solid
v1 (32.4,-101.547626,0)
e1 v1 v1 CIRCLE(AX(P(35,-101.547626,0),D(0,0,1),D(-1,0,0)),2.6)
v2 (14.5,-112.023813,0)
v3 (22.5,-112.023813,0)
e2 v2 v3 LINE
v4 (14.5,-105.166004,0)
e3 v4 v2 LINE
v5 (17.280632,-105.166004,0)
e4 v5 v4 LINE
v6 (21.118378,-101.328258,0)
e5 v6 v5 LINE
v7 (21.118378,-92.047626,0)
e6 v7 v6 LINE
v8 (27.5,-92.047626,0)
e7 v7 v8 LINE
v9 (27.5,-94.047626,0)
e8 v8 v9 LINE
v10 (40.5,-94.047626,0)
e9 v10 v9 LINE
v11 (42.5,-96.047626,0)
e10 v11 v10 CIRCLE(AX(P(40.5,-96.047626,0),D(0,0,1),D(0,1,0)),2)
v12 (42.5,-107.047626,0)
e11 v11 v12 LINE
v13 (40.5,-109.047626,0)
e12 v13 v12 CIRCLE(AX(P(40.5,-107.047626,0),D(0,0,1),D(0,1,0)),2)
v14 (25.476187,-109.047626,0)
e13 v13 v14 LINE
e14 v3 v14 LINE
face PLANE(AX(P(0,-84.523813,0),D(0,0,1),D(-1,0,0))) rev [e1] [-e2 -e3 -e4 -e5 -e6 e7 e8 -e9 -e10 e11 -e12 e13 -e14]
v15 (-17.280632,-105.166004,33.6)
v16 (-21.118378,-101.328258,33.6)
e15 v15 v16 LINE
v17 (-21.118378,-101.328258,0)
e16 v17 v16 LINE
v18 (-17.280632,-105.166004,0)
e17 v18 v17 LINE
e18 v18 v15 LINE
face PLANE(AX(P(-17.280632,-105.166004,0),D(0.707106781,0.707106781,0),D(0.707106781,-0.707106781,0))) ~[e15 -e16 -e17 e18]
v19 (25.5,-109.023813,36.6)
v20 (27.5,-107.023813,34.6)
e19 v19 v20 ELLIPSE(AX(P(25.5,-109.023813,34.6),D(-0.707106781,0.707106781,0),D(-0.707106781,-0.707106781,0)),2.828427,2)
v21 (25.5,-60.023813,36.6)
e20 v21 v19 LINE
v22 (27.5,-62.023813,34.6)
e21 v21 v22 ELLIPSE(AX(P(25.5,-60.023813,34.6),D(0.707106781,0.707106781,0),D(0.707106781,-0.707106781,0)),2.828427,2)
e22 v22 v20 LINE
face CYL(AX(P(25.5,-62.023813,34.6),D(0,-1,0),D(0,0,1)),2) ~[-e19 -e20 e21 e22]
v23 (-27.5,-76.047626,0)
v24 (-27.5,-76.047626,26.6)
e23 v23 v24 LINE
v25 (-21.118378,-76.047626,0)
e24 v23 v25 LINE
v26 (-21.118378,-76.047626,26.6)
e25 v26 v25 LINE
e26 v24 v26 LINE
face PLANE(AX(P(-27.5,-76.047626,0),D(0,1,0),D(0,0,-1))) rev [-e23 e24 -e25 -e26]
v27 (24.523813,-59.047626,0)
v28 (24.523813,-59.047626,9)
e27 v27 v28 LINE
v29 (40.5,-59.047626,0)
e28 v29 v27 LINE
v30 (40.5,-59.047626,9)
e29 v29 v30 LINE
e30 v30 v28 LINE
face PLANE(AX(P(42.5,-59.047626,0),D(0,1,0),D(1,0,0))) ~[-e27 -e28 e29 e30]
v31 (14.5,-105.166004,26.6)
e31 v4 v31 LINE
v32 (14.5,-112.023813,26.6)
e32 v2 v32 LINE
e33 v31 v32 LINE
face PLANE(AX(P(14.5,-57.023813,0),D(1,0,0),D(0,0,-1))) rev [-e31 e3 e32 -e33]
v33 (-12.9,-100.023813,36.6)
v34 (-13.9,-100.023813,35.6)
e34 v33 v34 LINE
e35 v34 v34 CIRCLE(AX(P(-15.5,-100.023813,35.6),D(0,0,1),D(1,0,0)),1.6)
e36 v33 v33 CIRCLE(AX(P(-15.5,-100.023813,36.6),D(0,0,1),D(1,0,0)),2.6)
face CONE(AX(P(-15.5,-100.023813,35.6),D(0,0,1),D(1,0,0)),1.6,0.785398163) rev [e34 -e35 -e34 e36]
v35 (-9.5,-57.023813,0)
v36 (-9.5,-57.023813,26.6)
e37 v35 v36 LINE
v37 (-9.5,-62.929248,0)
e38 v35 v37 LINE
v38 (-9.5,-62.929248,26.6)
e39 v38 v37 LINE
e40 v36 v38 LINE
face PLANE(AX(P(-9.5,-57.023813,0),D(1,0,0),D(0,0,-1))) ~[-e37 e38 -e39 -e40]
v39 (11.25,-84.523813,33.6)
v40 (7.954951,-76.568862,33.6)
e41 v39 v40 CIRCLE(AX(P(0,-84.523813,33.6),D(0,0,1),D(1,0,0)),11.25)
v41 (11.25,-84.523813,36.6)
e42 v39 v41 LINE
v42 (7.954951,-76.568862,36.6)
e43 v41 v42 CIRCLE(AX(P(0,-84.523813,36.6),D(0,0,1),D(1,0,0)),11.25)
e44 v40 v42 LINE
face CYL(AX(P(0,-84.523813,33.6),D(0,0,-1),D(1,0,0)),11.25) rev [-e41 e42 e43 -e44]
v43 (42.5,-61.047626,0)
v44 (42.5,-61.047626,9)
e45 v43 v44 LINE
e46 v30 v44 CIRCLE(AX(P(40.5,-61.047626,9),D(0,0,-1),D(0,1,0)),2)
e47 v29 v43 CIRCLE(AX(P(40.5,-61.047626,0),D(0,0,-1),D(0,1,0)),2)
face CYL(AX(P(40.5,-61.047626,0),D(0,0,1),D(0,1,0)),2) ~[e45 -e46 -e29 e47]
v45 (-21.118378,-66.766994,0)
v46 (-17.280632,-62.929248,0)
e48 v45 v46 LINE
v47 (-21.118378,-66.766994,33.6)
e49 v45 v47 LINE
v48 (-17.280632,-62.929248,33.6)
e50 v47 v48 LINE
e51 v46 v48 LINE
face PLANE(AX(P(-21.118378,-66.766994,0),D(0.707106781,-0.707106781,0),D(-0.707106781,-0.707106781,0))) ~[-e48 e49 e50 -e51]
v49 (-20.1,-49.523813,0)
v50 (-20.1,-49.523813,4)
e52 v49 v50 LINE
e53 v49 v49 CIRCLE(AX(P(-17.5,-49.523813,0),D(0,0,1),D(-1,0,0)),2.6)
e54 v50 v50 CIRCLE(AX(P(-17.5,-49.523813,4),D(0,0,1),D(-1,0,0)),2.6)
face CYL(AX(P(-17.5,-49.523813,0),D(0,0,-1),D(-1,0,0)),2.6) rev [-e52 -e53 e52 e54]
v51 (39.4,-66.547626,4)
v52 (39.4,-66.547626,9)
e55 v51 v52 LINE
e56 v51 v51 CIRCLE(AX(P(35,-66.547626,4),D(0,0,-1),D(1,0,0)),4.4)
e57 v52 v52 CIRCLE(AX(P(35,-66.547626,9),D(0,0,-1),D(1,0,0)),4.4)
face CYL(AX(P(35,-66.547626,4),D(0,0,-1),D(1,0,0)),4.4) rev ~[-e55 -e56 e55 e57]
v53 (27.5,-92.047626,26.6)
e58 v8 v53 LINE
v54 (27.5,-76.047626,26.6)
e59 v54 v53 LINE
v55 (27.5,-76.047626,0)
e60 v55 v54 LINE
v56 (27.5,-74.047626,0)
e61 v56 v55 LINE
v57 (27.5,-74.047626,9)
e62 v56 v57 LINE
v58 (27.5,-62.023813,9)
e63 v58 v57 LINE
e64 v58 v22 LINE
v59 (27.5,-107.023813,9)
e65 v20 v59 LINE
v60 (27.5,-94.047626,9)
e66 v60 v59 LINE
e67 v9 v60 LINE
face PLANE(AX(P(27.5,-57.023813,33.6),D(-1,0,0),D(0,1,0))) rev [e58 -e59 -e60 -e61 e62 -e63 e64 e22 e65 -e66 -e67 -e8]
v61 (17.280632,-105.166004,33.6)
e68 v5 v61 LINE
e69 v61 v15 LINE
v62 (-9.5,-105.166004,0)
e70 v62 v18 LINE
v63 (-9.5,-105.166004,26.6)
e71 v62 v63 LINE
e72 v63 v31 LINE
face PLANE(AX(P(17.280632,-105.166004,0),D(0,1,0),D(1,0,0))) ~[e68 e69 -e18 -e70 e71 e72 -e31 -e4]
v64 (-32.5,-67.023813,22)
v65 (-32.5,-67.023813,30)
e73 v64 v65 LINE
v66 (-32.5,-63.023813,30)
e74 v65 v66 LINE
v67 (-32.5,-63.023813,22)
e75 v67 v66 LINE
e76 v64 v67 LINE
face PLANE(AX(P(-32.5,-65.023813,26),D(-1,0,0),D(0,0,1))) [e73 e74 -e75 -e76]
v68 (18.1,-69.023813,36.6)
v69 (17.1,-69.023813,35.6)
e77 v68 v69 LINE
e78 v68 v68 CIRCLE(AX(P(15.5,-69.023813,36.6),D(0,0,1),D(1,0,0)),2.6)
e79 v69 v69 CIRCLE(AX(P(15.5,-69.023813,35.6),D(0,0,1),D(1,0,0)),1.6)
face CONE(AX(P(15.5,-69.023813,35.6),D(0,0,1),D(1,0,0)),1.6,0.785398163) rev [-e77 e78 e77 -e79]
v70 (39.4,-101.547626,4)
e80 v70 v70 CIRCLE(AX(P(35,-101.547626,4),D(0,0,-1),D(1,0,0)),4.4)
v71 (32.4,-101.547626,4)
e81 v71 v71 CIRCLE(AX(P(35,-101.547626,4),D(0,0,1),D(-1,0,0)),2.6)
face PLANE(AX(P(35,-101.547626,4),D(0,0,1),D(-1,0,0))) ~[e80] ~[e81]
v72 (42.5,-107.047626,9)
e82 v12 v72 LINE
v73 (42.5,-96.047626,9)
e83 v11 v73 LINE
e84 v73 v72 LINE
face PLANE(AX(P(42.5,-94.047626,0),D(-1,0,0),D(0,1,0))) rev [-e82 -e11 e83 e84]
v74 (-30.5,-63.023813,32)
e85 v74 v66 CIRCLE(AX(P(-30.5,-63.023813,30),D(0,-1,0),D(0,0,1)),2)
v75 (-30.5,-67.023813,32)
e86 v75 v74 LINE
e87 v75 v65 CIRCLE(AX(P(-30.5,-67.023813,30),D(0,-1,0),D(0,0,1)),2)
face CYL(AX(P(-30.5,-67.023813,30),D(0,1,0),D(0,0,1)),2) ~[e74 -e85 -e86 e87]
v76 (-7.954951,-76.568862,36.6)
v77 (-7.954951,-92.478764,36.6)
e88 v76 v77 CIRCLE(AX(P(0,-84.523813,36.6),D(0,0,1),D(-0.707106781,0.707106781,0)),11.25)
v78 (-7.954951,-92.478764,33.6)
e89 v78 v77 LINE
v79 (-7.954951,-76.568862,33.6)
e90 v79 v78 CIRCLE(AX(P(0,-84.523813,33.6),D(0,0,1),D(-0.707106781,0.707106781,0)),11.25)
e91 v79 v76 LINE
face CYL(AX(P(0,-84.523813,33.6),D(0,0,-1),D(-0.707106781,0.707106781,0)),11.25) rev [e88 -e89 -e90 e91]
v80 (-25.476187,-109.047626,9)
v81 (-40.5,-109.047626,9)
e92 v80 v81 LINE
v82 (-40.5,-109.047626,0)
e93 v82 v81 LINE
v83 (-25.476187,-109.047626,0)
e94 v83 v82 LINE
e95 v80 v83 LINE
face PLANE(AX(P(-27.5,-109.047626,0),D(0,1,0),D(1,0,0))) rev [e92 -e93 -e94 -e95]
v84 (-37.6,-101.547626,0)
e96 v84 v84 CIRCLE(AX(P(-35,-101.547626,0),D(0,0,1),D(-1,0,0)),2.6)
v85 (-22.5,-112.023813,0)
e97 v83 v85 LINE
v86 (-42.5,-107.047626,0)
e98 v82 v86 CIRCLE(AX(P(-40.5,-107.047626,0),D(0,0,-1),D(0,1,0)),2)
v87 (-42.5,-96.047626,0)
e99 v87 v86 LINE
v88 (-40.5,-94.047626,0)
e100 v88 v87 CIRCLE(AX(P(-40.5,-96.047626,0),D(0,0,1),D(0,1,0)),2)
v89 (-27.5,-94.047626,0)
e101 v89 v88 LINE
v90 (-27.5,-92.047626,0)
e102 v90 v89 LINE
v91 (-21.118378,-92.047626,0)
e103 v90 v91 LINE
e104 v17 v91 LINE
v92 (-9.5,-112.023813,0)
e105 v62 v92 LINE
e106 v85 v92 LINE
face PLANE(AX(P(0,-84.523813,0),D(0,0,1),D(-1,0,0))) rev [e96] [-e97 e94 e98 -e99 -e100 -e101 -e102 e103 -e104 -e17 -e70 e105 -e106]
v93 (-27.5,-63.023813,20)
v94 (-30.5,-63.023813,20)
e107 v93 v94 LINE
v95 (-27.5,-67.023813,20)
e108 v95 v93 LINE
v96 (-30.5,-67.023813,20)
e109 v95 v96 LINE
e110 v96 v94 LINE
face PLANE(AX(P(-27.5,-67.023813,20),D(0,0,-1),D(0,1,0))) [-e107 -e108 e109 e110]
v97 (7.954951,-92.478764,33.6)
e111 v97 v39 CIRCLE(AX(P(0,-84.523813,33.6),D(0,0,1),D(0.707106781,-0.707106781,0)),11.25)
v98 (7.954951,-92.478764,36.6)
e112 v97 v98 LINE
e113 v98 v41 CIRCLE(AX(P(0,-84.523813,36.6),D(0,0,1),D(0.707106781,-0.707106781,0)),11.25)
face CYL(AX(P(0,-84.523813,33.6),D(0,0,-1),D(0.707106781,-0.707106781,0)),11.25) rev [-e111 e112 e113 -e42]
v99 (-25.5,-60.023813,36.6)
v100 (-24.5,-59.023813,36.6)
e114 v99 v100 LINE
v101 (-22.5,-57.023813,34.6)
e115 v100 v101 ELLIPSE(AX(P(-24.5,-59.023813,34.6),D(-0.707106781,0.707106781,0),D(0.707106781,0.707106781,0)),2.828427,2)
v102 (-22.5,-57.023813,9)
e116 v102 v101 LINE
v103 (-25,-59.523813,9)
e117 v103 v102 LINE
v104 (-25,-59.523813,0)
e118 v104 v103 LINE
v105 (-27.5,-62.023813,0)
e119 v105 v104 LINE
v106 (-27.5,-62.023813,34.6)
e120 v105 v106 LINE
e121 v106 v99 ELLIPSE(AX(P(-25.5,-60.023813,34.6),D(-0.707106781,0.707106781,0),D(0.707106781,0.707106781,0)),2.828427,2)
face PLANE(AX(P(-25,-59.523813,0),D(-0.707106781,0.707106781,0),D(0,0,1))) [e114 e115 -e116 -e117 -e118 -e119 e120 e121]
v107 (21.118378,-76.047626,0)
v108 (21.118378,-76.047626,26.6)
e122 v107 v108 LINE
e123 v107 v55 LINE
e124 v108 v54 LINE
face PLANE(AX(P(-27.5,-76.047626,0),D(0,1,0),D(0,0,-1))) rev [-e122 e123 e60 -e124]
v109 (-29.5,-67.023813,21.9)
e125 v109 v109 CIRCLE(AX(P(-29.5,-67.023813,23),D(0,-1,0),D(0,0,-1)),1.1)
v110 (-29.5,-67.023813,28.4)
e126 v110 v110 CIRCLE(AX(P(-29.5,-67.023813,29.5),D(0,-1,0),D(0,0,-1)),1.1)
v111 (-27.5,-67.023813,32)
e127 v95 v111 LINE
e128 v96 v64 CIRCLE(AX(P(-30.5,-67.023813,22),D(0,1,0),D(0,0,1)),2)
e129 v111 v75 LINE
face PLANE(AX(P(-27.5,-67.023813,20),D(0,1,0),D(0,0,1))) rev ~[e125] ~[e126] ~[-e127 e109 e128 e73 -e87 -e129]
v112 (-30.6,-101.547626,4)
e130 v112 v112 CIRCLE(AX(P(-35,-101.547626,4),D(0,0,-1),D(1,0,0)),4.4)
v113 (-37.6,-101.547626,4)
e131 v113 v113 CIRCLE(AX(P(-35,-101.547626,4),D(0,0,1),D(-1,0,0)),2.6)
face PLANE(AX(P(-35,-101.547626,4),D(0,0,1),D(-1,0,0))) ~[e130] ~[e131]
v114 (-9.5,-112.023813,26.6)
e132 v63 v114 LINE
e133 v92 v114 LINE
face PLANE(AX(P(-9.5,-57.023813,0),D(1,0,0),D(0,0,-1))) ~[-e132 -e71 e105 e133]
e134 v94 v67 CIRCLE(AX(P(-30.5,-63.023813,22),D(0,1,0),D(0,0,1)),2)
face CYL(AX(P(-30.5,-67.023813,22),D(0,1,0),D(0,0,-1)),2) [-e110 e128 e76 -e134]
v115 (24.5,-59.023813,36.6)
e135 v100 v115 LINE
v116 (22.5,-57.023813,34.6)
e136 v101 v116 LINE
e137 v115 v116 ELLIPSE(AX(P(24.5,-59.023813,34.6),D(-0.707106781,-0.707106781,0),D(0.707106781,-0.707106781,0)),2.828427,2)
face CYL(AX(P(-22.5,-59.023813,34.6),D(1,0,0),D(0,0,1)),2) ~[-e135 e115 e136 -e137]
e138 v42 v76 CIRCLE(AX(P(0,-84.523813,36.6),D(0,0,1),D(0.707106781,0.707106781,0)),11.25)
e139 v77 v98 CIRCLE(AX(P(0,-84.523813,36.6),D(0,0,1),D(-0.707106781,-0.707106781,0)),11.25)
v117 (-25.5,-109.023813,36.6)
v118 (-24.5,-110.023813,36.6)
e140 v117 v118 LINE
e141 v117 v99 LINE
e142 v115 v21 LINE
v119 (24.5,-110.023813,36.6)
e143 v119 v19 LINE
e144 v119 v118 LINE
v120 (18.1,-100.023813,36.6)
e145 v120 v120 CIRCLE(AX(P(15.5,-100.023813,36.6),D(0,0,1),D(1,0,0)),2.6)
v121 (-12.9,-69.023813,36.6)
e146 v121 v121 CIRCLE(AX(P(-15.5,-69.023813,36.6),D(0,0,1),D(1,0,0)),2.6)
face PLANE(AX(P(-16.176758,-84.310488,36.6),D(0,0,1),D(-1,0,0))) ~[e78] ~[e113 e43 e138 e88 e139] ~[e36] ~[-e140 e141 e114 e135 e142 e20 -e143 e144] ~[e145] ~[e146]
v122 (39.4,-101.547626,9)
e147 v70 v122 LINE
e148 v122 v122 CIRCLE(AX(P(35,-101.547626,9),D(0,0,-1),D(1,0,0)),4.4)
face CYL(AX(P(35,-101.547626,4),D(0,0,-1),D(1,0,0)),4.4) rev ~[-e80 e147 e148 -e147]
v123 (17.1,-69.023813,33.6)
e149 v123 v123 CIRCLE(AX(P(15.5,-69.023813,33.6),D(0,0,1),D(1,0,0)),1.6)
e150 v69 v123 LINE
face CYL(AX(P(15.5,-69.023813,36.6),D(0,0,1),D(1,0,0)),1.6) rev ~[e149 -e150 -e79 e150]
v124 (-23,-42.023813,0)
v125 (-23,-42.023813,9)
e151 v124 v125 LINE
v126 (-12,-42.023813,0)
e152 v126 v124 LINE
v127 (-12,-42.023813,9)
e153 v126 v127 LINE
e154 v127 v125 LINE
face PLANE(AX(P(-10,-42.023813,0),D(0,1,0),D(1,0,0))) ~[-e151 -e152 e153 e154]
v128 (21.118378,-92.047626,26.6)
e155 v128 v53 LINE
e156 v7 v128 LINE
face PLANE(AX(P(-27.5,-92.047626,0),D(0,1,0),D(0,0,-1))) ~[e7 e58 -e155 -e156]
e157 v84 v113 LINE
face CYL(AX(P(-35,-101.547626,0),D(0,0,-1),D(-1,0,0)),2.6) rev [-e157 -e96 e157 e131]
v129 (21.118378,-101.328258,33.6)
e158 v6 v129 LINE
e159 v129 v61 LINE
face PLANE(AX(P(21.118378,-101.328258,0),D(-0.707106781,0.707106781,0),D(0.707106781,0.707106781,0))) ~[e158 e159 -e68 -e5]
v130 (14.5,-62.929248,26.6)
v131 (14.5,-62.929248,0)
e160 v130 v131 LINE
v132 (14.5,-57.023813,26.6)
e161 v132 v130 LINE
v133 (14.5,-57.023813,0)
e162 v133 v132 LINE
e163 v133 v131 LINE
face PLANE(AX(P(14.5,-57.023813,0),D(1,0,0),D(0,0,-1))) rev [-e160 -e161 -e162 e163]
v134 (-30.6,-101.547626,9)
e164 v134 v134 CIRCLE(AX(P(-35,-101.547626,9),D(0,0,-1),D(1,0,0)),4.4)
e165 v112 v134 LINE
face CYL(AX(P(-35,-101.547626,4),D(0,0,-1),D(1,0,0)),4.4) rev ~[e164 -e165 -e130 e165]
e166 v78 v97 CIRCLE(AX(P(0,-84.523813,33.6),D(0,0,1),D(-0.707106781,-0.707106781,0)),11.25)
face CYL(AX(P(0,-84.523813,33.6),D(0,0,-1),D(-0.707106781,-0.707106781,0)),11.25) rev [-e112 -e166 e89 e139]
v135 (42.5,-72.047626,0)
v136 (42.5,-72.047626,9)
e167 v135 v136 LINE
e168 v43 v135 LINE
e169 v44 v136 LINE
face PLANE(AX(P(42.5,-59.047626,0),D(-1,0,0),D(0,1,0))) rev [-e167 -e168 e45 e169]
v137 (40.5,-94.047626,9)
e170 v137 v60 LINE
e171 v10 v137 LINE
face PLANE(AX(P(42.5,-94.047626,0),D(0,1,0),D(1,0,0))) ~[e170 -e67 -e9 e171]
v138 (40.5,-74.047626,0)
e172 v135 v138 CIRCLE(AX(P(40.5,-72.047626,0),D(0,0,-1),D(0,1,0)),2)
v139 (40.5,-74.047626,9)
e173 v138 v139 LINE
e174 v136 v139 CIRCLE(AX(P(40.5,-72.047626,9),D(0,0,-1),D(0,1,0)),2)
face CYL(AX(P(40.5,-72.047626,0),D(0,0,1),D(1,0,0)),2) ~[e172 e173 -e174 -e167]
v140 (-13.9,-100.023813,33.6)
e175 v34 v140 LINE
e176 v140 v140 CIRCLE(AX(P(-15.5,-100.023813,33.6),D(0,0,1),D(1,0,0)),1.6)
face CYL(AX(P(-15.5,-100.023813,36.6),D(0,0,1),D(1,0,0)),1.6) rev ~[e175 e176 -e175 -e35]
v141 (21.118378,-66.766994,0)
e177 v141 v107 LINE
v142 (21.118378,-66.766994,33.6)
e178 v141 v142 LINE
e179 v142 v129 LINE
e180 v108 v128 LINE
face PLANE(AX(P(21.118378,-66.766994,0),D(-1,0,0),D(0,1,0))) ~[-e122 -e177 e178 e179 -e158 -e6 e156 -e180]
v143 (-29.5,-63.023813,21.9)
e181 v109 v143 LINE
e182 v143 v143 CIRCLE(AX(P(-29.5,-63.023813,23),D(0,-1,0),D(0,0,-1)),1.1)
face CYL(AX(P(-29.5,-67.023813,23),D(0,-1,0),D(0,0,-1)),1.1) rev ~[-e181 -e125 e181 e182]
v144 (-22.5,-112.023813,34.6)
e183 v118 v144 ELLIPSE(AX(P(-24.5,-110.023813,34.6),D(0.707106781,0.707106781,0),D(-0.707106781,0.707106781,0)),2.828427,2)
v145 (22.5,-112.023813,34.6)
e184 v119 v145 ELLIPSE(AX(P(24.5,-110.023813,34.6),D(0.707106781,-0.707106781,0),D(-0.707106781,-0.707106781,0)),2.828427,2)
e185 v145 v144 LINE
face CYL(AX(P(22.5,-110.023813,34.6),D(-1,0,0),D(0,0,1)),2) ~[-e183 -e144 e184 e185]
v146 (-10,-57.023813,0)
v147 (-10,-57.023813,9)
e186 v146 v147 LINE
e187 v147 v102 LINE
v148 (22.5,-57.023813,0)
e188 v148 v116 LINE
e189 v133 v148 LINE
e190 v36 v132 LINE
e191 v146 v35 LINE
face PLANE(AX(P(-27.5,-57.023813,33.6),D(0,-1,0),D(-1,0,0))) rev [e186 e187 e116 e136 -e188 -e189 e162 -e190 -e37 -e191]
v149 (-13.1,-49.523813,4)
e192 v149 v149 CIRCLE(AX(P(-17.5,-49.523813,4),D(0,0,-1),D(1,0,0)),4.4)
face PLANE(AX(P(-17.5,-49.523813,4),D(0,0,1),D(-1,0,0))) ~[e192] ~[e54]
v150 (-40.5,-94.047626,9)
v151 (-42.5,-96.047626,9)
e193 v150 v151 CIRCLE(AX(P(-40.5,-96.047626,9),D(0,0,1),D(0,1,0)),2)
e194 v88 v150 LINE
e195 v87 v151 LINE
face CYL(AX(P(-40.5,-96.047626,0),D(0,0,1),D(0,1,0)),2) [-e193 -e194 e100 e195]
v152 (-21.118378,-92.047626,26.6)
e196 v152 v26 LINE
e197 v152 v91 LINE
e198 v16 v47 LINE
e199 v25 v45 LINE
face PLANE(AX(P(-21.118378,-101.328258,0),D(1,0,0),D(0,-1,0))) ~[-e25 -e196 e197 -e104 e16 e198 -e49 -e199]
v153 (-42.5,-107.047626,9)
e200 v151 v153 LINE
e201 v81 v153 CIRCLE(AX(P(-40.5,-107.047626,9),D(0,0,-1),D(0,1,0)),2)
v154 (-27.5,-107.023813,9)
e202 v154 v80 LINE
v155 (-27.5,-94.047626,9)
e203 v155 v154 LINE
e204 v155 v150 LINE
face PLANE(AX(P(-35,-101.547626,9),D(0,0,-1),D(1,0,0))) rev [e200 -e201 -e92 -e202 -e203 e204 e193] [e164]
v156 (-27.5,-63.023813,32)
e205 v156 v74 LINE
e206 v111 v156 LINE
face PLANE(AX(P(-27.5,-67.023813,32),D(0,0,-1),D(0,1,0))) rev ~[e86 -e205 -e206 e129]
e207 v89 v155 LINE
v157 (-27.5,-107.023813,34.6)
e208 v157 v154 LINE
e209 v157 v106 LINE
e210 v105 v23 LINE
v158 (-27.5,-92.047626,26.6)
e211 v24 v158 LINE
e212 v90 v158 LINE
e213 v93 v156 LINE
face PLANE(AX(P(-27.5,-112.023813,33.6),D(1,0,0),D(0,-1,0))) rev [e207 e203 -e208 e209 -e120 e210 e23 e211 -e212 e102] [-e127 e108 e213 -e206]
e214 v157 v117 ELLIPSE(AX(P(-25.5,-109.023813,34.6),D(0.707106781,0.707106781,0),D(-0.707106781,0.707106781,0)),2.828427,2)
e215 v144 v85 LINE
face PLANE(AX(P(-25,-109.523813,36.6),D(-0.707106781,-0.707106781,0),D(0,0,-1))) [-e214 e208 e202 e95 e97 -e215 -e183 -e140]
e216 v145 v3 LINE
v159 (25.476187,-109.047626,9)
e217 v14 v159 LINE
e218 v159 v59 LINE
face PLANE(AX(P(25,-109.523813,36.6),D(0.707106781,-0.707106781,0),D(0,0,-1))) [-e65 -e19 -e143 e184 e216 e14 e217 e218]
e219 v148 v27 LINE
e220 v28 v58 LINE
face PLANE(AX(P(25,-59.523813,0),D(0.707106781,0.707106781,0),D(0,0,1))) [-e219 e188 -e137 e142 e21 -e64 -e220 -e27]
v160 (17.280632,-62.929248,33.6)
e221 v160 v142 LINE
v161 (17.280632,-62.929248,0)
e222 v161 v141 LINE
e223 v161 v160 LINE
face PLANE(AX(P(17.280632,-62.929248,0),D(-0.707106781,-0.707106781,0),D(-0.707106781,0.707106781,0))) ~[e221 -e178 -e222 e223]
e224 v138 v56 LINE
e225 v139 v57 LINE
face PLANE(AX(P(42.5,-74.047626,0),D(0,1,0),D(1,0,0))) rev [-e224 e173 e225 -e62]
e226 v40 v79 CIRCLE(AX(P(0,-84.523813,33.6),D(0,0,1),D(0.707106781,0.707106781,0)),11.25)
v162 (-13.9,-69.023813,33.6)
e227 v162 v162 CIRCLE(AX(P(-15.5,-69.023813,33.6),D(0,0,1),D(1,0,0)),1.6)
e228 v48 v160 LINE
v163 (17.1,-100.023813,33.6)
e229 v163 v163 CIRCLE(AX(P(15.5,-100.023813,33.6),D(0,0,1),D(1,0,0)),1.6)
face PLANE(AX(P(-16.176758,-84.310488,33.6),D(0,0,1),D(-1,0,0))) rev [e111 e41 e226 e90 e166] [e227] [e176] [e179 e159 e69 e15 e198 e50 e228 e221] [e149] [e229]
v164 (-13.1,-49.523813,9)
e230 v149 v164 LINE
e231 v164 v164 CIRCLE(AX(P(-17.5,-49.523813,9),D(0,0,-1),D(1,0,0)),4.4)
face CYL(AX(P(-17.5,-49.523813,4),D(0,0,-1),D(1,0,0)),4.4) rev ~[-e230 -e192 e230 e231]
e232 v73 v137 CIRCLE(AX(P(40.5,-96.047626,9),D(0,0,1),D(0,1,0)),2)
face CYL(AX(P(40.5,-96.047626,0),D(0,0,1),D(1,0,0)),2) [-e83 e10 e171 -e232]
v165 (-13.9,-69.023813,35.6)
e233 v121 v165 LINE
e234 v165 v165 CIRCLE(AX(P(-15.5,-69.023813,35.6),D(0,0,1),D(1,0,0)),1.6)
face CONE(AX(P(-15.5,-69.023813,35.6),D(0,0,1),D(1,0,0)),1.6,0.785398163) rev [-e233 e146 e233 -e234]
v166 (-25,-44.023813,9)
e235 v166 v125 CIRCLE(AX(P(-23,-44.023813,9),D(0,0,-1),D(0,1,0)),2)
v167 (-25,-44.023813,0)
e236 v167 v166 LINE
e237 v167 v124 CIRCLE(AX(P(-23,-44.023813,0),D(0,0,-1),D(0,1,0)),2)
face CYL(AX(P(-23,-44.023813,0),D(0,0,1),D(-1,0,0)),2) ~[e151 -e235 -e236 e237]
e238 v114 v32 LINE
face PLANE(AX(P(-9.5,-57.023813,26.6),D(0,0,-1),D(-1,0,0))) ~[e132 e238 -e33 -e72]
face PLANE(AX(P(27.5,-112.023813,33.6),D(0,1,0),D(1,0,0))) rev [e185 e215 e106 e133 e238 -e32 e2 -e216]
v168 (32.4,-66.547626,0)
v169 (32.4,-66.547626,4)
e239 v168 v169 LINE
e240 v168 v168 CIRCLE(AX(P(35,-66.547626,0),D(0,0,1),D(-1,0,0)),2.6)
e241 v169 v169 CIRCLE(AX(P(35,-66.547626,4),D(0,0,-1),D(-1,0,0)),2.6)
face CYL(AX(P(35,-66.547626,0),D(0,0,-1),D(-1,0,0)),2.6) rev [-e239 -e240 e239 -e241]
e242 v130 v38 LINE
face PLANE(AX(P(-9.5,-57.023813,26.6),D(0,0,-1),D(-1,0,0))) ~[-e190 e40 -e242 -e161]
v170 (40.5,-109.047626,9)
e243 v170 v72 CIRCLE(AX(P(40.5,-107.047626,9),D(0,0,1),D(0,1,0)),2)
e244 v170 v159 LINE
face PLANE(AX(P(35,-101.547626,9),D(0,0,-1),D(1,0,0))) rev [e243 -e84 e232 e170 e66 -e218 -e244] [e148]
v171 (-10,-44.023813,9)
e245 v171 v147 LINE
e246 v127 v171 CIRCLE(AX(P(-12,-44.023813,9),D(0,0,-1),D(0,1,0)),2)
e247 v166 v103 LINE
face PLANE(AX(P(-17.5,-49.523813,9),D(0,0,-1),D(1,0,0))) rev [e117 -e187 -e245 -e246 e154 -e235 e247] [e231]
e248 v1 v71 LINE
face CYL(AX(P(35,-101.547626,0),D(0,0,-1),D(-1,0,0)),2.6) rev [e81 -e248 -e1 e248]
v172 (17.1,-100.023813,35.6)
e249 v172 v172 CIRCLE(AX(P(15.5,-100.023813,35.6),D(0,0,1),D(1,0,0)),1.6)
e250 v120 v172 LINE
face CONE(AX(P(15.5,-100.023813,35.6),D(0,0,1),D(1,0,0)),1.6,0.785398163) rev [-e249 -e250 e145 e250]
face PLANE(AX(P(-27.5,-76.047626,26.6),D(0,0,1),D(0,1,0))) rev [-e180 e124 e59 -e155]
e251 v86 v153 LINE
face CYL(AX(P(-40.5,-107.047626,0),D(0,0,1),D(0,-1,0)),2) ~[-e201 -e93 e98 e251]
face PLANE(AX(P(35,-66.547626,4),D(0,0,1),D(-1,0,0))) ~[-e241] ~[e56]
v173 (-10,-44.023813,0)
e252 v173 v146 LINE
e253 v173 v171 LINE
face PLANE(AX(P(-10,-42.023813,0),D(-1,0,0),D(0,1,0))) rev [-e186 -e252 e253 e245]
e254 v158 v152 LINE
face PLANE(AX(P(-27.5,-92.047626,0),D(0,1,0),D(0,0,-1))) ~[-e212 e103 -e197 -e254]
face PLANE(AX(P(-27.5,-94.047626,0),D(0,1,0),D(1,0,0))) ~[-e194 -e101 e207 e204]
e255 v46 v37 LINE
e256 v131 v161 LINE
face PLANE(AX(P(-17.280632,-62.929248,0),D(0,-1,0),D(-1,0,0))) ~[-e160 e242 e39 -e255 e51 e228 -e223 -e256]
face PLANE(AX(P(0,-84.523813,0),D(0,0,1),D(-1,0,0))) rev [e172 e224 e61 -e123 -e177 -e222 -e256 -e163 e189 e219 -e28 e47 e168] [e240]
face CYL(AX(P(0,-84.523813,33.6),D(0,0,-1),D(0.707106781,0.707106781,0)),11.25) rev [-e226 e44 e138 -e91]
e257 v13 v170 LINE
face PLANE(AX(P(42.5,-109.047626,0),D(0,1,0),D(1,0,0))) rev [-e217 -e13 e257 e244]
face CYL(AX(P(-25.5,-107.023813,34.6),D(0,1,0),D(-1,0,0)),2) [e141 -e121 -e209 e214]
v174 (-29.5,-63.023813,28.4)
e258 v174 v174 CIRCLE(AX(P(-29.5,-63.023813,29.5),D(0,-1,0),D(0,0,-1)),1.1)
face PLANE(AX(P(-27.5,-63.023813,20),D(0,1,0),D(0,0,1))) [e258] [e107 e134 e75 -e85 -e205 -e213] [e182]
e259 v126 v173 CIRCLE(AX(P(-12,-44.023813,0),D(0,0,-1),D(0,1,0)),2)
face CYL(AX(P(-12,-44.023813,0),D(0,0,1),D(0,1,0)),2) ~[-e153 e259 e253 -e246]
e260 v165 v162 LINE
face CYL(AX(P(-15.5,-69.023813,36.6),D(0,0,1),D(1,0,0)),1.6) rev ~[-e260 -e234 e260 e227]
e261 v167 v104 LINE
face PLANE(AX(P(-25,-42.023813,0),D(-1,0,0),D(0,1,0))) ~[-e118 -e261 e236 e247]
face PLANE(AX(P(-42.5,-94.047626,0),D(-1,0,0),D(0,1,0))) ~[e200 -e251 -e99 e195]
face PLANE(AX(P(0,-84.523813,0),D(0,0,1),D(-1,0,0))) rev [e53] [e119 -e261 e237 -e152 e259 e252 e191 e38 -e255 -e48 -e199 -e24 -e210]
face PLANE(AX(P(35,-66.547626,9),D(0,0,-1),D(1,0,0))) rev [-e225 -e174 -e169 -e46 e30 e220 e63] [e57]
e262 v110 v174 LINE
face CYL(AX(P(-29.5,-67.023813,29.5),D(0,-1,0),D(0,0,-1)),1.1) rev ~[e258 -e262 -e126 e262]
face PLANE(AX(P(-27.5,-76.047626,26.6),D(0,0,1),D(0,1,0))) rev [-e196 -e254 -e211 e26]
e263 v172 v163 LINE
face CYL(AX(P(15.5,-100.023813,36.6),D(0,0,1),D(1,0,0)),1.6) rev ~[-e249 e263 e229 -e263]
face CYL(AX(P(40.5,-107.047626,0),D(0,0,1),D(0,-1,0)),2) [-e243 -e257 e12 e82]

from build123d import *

# Parameters (mm, degrees)
SKETCH2_W           = 55
SKETCH2_H           = 55
BOSS_EXTRUDE1_DEPTH = 33.6
BOSS_EXTRUDE2_DEPTH = 3
SKETCH4_W           = 15
SKETCH4_H           = 15
SKETCH4_R           = 2.6
BOSS_EXTRUDE3_DEPTH = 9
CUT_EXTRUDE1_START  = -5
SKETCH6_R           = 4.4
SKETCH6_R_2         = 2.6
CUT_EXTRUDE1_DEPTH  = 5
CHAMFER1_SIZE       = 5
FILLET4_R           = 2
SKETCH7_W           = 24
SKETCH7_H           = 26.6
CUT_EXTRUDE2_DEPTH  = 67
SKETCH8_W           = 26.6
SKETCH8_H           = 16
CUT_EXTRUDE3_DEPTH  = 67
SKETCH11_W          = 12
SKETCH11_H          = 4
BOSS_EXTRUDE4_DEPTH = 5
SKETCH12_R          = 1.1
CUT_EXTRUDE5_DEPTH  = 4
FILLET8_R           = 2
SKETCH13_R          = 1.6
CUT_EXTRUDE6_DEPTH  = 10
CHAMFER2_SIZE       = 1


with BuildPart() as part:
    # Sketch2 → Boss-Extrude1 (new body)
    with BuildSketch(Plane.XY):
        with Locations((0, 0.476186899)):
            Rectangle(SKETCH2_W, SKETCH2_H)
        Polygon((21.118377871, -17.280631787), (21.118377871, 17.280631787), (17.280631787, 21.118377871), (-17.280631787, 21.118377871), (-21.118377871, 17.280631787), (-21.118377871, -17.280631787), (-17.280631787, -21.118377871), (17.280631787, -21.118377871), align=None, mode=Mode.SUBTRACT)
    extrude(amount=BOSS_EXTRUDE1_DEPTH)

    # Sketch3 → Boss-Extrude2 (add)
    with BuildSketch(Plane.XY.offset(33.6)):
        with BuildLine():
            Line((-7.954951288, 8.431138187), (-18.961411379, 19.437598278))
            Line((-18.961411379, 19.437598278), (-21.118377871, 17.280631787))
            Line((-21.118377871, 17.280631787), (-21.118377871, -17.280631787))
            Line((-21.118377871, -17.280631787), (-19.437598278, -18.961411379))
            Line((-19.437598278, -18.961411379), (-7.954951288, -7.478764389))
            ThreePointArc((-7.954951288, -7.478764389), (-11.25, 0.476186899), (-7.954951288, 8.431138187))
        make_face()
        with BuildLine():
            Line((-7.954951288, -7.478764389), (-19.437598278, -18.961411379))
            Line((-19.437598278, -18.961411379), (-17.280631787, -21.118377871))
            Line((-17.280631787, -21.118377871), (17.280631787, -21.118377871))
            Line((17.280631787, -21.118377871), (19.437598278, -18.961411379))
            Line((19.437598278, -18.961411379), (7.954951288, -7.478764389))
            ThreePointArc((7.954951288, -7.478764389), (0, -10.773813101), (-7.954951288, -7.478764389))
        make_face()
        with BuildLine():
            Line((21.118377871, 17.280631787), (18.961411379, 19.437598278))
            Line((18.961411379, 19.437598278), (7.954951288, 8.431138187))
            ThreePointArc((7.954951288, 8.431138187), (10.393644741, 4.781375513), (11.25, 0.476186899))
            ThreePointArc((11.25, 0.476186899), (10.393644741, -3.829001715), (7.954951288, -7.478764389))
            Line((7.954951288, -7.478764389), (19.437598278, -18.961411379))
            Line((19.437598278, -18.961411379), (21.118377871, -17.280631787))
            Line((21.118377871, -17.280631787), (21.118377871, 17.280631787))
        make_face()
        with BuildLine():
            Line((-17.280631787, 21.118377871), (-18.961411379, 19.437598278))
            Line((-18.961411379, 19.437598278), (-7.954951288, 8.431138187))
            ThreePointArc((-7.954951288, 8.431138187), (0, 11.726186899), (7.954951288, 8.431138187))
            Line((7.954951288, 8.431138187), (18.961411379, 19.437598278))
            Line((18.961411379, 19.437598278), (17.280631787, 21.118377871))
            Line((17.280631787, 21.118377871), (-17.280631787, 21.118377871))
        make_face()
        Polygon((-18.961411379, 19.437598278), (-27.5, 27.976186899), (-27.5, -27.023813101), (-19.437598278, -18.961411379), (-21.118377871, -17.280631787), (-21.118377871, 17.280631787), align=None)
        Polygon((-19.437598278, -18.961411379), (-27.5, -27.023813101), (27.5, -27.023813101), (19.437598278, -18.961411379), (17.280631787, -21.118377871), (-17.280631787, -21.118377871), align=None)
        Polygon((27.5, -27.023813101), (27.5, 27.976186899), (18.961411379, 19.437598278), (21.118377871, 17.280631787), (21.118377871, -17.280631787), (19.437598278, -18.961411379), align=None)
        Polygon((27.5, 27.976186899), (-27.5, 27.976186899), (-18.961411379, 19.437598278), (-17.280631787, 21.118377871), (17.280631787, 21.118377871), (18.961411379, 19.437598278), align=None)
    extrude(amount=BOSS_EXTRUDE2_DEPTH)

    # Sketch4 → Boss-Extrude3 (add)
    # profile 1 of 4: a face of its own
    with BuildSketch(Plane(origin=(0, 0, 0), x_dir=(-1, 0, 0), z_dir=(0, 0, -1))):
        with Locations((-35, 17.5)):
            Rectangle(SKETCH4_W, SKETCH4_H)
        with Locations((-35, 17.5)):
            Circle(SKETCH4_R, mode=Mode.SUBTRACT)
    # profile 2 of 4: a face of its own
    with BuildSketch(Plane(origin=(0, 0, 0), x_dir=(-1, 0, 0), z_dir=(0, 0, -1))):
        with Locations((35, 17.5)):
            Rectangle(SKETCH4_W, SKETCH4_H)
        with Locations((35, 17.5)):
            Circle(SKETCH4_R, mode=Mode.SUBTRACT)
    # profile 3 of 4: a face of its own
    with BuildSketch(Plane(origin=(0, 0, 0), x_dir=(-1, 0, 0), z_dir=(0, 0, -1))):
        with Locations((-35, -17.5)):
            Rectangle(SKETCH4_W, SKETCH4_H)
        with Locations((-35, -17.5)):
            Circle(SKETCH4_R, mode=Mode.SUBTRACT)
    # profile 4 of 4: a face of its own
    with BuildSketch(Plane(origin=(0, 0, 0), x_dir=(-1, 0, 0), z_dir=(0, 0, -1))):
        with Locations((17.5, -34.523813101)):
            Rectangle(SKETCH4_W, SKETCH4_H)
        with Locations((17.5, -34.523813101)):
            Circle(SKETCH4_R, mode=Mode.SUBTRACT)
    extrude(amount=-BOSS_EXTRUDE3_DEPTH)

    # Sketch6 → Cut-Extrude1 (cut)
    # profile 1 of 4: a face of its own
    with BuildSketch(Plane.XY.offset(9).offset(CUT_EXTRUDE1_START)):
        with Locations((-17.5, -34.523813101)):
            Circle(SKETCH6_R)
    # profile 2 of 4: a face of its own
    with BuildSketch(Plane.XY.offset(9).offset(CUT_EXTRUDE1_START)):
        with Locations((-35, 17.5)):
            Circle(SKETCH6_R)
    # profile 3 of 4: a face of its own
    with BuildSketch(Plane.XY.offset(9).offset(CUT_EXTRUDE1_START)):
        with Locations((35, -17.5)):
            Circle(SKETCH6_R)
        with Locations(Location((35, -17.5, 0), (0, 0, 180))):
            Circle(SKETCH6_R_2, mode=Mode.SUBTRACT)
    # profile 4 of 4: a face of its own
    with BuildSketch(Plane.XY.offset(9).offset(CUT_EXTRUDE1_START)):
        with Locations((35, 17.5)):
            Circle(SKETCH6_R)
    extrude(amount=CUT_EXTRUDE1_DEPTH, mode=Mode.SUBTRACT)

    # Chamfer1
    chamfer1_edges = [part.edges().sort_by_distance(p)[0] for p in [
        (27.5, -27.023813101, 18.3),
        (-27.5, -27.023813101, 18.3),
        (27.5, 27.976186899, 18.3),
        (-27.5, 27.976186899, 18.3),
    ]]
    chamfer(chamfer1_edges, length=CHAMFER1_SIZE)

    # Fillet4
    fillet4_edges = [part.edges().sort_by_distance(p)[0] for p in [
        (0, 27.976186899, 36.6),
        (27.5, 0.476186899, 36.6),
        (0, -27.023813101, 36.6),
        (-27.5, 0.476186899, 36.6),
        (-25, -42.023813101, 4.5),
        (-10, -42.023813101, 4.5),
        (-42.5, 10, 4.5),
        (-42.5, 25, 4.5),
        (42.5, -25, 4.5),
        (42.5, -10, 4.5),
        (42.5, 10, 4.5),
        (42.5, 25, 4.5),
    ]]
    fillet(fillet4_edges, radius=FILLET4_R)

    # Sketch7 → Cut-Extrude2 (cut)
    with BuildSketch(Plane.XZ.offset(27.023813101)):
        with Locations((2.5, 13.3)):
            Rectangle(SKETCH7_W, SKETCH7_H)
    extrude(amount=-CUT_EXTRUDE2_DEPTH, mode=Mode.SUBTRACT)

    # Sketch8 → Cut-Extrude3 (cut)
    with BuildSketch(Plane.ZY.offset(27.5)):
        with Locations((13.3, 0)):
            Rectangle(SKETCH8_W, SKETCH8_H)
    extrude(amount=-CUT_EXTRUDE3_DEPTH, mode=Mode.SUBTRACT)


with BuildPart() as body_2:
    # Mirror2: mirrored copy
    add(part.part.mirror(Plane(origin=(-25, -42.023813101, 9), x_dir=(0, 0, 1), z_dir=(0, 1, 0))))

    # Sketch11 → Boss-Extrude4 (add)
    with BuildSketch(Plane.ZY.offset(27.5)):
        with Locations((26, -65.023813101)):
            Rectangle(SKETCH11_W, SKETCH11_H)
    extrude(amount=BOSS_EXTRUDE4_DEPTH)

    # Sketch12 → Cut-Extrude5 (cut)
    with BuildSketch(Plane.XZ.offset(67.023813101)):
        with Locations(Location((-29.5, 29.5, 0), (0, 0, 270))):
            Circle(SKETCH12_R)
        with Locations(Location((-29.5, 23, 0), (0, 0, 270))):
            Circle(SKETCH12_R)
    extrude(amount=-CUT_EXTRUDE5_DEPTH, mode=Mode.SUBTRACT)

    # Fillet8
    fillet8_edges = [body_2.edges().sort_by_distance(p)[0] for p in [
        (-32.5, -65.023813101, 32),
        (-32.5, -65.023813101, 20),
    ]]
    fillet(fillet8_edges, radius=FILLET8_R)

    # Sketch13 → Cut-Extrude6 (cut)
    with BuildSketch(Plane.XY.offset(36.6)):
        with Locations((15.5, -100.023813101)):
            Circle(SKETCH13_R)
        with Locations((-15.5, -100.023813101)):
            Circle(SKETCH13_R)
        with Locations((-15.5, -69.023813101)):
            Circle(SKETCH13_R)
        with Locations((15.5, -69.023813101)):
            Circle(SKETCH13_R)
    extrude(amount=-CUT_EXTRUDE6_DEPTH, mode=Mode.SUBTRACT)

    # Chamfer2
    chamfer2_edges = [body_2.edges().sort_by_distance(p)[0] for p in [
        (13.9, -69.023813101, 36.6),
        (-17.1, -69.023813101, 36.6),
        (-17.1, -100.023813101, 36.6),
        (13.9, -100.023813101, 36.6),
    ]]
    chamfer(chamfer2_edges, length=CHAMFER2_SIZE)


solid = body_2.part
